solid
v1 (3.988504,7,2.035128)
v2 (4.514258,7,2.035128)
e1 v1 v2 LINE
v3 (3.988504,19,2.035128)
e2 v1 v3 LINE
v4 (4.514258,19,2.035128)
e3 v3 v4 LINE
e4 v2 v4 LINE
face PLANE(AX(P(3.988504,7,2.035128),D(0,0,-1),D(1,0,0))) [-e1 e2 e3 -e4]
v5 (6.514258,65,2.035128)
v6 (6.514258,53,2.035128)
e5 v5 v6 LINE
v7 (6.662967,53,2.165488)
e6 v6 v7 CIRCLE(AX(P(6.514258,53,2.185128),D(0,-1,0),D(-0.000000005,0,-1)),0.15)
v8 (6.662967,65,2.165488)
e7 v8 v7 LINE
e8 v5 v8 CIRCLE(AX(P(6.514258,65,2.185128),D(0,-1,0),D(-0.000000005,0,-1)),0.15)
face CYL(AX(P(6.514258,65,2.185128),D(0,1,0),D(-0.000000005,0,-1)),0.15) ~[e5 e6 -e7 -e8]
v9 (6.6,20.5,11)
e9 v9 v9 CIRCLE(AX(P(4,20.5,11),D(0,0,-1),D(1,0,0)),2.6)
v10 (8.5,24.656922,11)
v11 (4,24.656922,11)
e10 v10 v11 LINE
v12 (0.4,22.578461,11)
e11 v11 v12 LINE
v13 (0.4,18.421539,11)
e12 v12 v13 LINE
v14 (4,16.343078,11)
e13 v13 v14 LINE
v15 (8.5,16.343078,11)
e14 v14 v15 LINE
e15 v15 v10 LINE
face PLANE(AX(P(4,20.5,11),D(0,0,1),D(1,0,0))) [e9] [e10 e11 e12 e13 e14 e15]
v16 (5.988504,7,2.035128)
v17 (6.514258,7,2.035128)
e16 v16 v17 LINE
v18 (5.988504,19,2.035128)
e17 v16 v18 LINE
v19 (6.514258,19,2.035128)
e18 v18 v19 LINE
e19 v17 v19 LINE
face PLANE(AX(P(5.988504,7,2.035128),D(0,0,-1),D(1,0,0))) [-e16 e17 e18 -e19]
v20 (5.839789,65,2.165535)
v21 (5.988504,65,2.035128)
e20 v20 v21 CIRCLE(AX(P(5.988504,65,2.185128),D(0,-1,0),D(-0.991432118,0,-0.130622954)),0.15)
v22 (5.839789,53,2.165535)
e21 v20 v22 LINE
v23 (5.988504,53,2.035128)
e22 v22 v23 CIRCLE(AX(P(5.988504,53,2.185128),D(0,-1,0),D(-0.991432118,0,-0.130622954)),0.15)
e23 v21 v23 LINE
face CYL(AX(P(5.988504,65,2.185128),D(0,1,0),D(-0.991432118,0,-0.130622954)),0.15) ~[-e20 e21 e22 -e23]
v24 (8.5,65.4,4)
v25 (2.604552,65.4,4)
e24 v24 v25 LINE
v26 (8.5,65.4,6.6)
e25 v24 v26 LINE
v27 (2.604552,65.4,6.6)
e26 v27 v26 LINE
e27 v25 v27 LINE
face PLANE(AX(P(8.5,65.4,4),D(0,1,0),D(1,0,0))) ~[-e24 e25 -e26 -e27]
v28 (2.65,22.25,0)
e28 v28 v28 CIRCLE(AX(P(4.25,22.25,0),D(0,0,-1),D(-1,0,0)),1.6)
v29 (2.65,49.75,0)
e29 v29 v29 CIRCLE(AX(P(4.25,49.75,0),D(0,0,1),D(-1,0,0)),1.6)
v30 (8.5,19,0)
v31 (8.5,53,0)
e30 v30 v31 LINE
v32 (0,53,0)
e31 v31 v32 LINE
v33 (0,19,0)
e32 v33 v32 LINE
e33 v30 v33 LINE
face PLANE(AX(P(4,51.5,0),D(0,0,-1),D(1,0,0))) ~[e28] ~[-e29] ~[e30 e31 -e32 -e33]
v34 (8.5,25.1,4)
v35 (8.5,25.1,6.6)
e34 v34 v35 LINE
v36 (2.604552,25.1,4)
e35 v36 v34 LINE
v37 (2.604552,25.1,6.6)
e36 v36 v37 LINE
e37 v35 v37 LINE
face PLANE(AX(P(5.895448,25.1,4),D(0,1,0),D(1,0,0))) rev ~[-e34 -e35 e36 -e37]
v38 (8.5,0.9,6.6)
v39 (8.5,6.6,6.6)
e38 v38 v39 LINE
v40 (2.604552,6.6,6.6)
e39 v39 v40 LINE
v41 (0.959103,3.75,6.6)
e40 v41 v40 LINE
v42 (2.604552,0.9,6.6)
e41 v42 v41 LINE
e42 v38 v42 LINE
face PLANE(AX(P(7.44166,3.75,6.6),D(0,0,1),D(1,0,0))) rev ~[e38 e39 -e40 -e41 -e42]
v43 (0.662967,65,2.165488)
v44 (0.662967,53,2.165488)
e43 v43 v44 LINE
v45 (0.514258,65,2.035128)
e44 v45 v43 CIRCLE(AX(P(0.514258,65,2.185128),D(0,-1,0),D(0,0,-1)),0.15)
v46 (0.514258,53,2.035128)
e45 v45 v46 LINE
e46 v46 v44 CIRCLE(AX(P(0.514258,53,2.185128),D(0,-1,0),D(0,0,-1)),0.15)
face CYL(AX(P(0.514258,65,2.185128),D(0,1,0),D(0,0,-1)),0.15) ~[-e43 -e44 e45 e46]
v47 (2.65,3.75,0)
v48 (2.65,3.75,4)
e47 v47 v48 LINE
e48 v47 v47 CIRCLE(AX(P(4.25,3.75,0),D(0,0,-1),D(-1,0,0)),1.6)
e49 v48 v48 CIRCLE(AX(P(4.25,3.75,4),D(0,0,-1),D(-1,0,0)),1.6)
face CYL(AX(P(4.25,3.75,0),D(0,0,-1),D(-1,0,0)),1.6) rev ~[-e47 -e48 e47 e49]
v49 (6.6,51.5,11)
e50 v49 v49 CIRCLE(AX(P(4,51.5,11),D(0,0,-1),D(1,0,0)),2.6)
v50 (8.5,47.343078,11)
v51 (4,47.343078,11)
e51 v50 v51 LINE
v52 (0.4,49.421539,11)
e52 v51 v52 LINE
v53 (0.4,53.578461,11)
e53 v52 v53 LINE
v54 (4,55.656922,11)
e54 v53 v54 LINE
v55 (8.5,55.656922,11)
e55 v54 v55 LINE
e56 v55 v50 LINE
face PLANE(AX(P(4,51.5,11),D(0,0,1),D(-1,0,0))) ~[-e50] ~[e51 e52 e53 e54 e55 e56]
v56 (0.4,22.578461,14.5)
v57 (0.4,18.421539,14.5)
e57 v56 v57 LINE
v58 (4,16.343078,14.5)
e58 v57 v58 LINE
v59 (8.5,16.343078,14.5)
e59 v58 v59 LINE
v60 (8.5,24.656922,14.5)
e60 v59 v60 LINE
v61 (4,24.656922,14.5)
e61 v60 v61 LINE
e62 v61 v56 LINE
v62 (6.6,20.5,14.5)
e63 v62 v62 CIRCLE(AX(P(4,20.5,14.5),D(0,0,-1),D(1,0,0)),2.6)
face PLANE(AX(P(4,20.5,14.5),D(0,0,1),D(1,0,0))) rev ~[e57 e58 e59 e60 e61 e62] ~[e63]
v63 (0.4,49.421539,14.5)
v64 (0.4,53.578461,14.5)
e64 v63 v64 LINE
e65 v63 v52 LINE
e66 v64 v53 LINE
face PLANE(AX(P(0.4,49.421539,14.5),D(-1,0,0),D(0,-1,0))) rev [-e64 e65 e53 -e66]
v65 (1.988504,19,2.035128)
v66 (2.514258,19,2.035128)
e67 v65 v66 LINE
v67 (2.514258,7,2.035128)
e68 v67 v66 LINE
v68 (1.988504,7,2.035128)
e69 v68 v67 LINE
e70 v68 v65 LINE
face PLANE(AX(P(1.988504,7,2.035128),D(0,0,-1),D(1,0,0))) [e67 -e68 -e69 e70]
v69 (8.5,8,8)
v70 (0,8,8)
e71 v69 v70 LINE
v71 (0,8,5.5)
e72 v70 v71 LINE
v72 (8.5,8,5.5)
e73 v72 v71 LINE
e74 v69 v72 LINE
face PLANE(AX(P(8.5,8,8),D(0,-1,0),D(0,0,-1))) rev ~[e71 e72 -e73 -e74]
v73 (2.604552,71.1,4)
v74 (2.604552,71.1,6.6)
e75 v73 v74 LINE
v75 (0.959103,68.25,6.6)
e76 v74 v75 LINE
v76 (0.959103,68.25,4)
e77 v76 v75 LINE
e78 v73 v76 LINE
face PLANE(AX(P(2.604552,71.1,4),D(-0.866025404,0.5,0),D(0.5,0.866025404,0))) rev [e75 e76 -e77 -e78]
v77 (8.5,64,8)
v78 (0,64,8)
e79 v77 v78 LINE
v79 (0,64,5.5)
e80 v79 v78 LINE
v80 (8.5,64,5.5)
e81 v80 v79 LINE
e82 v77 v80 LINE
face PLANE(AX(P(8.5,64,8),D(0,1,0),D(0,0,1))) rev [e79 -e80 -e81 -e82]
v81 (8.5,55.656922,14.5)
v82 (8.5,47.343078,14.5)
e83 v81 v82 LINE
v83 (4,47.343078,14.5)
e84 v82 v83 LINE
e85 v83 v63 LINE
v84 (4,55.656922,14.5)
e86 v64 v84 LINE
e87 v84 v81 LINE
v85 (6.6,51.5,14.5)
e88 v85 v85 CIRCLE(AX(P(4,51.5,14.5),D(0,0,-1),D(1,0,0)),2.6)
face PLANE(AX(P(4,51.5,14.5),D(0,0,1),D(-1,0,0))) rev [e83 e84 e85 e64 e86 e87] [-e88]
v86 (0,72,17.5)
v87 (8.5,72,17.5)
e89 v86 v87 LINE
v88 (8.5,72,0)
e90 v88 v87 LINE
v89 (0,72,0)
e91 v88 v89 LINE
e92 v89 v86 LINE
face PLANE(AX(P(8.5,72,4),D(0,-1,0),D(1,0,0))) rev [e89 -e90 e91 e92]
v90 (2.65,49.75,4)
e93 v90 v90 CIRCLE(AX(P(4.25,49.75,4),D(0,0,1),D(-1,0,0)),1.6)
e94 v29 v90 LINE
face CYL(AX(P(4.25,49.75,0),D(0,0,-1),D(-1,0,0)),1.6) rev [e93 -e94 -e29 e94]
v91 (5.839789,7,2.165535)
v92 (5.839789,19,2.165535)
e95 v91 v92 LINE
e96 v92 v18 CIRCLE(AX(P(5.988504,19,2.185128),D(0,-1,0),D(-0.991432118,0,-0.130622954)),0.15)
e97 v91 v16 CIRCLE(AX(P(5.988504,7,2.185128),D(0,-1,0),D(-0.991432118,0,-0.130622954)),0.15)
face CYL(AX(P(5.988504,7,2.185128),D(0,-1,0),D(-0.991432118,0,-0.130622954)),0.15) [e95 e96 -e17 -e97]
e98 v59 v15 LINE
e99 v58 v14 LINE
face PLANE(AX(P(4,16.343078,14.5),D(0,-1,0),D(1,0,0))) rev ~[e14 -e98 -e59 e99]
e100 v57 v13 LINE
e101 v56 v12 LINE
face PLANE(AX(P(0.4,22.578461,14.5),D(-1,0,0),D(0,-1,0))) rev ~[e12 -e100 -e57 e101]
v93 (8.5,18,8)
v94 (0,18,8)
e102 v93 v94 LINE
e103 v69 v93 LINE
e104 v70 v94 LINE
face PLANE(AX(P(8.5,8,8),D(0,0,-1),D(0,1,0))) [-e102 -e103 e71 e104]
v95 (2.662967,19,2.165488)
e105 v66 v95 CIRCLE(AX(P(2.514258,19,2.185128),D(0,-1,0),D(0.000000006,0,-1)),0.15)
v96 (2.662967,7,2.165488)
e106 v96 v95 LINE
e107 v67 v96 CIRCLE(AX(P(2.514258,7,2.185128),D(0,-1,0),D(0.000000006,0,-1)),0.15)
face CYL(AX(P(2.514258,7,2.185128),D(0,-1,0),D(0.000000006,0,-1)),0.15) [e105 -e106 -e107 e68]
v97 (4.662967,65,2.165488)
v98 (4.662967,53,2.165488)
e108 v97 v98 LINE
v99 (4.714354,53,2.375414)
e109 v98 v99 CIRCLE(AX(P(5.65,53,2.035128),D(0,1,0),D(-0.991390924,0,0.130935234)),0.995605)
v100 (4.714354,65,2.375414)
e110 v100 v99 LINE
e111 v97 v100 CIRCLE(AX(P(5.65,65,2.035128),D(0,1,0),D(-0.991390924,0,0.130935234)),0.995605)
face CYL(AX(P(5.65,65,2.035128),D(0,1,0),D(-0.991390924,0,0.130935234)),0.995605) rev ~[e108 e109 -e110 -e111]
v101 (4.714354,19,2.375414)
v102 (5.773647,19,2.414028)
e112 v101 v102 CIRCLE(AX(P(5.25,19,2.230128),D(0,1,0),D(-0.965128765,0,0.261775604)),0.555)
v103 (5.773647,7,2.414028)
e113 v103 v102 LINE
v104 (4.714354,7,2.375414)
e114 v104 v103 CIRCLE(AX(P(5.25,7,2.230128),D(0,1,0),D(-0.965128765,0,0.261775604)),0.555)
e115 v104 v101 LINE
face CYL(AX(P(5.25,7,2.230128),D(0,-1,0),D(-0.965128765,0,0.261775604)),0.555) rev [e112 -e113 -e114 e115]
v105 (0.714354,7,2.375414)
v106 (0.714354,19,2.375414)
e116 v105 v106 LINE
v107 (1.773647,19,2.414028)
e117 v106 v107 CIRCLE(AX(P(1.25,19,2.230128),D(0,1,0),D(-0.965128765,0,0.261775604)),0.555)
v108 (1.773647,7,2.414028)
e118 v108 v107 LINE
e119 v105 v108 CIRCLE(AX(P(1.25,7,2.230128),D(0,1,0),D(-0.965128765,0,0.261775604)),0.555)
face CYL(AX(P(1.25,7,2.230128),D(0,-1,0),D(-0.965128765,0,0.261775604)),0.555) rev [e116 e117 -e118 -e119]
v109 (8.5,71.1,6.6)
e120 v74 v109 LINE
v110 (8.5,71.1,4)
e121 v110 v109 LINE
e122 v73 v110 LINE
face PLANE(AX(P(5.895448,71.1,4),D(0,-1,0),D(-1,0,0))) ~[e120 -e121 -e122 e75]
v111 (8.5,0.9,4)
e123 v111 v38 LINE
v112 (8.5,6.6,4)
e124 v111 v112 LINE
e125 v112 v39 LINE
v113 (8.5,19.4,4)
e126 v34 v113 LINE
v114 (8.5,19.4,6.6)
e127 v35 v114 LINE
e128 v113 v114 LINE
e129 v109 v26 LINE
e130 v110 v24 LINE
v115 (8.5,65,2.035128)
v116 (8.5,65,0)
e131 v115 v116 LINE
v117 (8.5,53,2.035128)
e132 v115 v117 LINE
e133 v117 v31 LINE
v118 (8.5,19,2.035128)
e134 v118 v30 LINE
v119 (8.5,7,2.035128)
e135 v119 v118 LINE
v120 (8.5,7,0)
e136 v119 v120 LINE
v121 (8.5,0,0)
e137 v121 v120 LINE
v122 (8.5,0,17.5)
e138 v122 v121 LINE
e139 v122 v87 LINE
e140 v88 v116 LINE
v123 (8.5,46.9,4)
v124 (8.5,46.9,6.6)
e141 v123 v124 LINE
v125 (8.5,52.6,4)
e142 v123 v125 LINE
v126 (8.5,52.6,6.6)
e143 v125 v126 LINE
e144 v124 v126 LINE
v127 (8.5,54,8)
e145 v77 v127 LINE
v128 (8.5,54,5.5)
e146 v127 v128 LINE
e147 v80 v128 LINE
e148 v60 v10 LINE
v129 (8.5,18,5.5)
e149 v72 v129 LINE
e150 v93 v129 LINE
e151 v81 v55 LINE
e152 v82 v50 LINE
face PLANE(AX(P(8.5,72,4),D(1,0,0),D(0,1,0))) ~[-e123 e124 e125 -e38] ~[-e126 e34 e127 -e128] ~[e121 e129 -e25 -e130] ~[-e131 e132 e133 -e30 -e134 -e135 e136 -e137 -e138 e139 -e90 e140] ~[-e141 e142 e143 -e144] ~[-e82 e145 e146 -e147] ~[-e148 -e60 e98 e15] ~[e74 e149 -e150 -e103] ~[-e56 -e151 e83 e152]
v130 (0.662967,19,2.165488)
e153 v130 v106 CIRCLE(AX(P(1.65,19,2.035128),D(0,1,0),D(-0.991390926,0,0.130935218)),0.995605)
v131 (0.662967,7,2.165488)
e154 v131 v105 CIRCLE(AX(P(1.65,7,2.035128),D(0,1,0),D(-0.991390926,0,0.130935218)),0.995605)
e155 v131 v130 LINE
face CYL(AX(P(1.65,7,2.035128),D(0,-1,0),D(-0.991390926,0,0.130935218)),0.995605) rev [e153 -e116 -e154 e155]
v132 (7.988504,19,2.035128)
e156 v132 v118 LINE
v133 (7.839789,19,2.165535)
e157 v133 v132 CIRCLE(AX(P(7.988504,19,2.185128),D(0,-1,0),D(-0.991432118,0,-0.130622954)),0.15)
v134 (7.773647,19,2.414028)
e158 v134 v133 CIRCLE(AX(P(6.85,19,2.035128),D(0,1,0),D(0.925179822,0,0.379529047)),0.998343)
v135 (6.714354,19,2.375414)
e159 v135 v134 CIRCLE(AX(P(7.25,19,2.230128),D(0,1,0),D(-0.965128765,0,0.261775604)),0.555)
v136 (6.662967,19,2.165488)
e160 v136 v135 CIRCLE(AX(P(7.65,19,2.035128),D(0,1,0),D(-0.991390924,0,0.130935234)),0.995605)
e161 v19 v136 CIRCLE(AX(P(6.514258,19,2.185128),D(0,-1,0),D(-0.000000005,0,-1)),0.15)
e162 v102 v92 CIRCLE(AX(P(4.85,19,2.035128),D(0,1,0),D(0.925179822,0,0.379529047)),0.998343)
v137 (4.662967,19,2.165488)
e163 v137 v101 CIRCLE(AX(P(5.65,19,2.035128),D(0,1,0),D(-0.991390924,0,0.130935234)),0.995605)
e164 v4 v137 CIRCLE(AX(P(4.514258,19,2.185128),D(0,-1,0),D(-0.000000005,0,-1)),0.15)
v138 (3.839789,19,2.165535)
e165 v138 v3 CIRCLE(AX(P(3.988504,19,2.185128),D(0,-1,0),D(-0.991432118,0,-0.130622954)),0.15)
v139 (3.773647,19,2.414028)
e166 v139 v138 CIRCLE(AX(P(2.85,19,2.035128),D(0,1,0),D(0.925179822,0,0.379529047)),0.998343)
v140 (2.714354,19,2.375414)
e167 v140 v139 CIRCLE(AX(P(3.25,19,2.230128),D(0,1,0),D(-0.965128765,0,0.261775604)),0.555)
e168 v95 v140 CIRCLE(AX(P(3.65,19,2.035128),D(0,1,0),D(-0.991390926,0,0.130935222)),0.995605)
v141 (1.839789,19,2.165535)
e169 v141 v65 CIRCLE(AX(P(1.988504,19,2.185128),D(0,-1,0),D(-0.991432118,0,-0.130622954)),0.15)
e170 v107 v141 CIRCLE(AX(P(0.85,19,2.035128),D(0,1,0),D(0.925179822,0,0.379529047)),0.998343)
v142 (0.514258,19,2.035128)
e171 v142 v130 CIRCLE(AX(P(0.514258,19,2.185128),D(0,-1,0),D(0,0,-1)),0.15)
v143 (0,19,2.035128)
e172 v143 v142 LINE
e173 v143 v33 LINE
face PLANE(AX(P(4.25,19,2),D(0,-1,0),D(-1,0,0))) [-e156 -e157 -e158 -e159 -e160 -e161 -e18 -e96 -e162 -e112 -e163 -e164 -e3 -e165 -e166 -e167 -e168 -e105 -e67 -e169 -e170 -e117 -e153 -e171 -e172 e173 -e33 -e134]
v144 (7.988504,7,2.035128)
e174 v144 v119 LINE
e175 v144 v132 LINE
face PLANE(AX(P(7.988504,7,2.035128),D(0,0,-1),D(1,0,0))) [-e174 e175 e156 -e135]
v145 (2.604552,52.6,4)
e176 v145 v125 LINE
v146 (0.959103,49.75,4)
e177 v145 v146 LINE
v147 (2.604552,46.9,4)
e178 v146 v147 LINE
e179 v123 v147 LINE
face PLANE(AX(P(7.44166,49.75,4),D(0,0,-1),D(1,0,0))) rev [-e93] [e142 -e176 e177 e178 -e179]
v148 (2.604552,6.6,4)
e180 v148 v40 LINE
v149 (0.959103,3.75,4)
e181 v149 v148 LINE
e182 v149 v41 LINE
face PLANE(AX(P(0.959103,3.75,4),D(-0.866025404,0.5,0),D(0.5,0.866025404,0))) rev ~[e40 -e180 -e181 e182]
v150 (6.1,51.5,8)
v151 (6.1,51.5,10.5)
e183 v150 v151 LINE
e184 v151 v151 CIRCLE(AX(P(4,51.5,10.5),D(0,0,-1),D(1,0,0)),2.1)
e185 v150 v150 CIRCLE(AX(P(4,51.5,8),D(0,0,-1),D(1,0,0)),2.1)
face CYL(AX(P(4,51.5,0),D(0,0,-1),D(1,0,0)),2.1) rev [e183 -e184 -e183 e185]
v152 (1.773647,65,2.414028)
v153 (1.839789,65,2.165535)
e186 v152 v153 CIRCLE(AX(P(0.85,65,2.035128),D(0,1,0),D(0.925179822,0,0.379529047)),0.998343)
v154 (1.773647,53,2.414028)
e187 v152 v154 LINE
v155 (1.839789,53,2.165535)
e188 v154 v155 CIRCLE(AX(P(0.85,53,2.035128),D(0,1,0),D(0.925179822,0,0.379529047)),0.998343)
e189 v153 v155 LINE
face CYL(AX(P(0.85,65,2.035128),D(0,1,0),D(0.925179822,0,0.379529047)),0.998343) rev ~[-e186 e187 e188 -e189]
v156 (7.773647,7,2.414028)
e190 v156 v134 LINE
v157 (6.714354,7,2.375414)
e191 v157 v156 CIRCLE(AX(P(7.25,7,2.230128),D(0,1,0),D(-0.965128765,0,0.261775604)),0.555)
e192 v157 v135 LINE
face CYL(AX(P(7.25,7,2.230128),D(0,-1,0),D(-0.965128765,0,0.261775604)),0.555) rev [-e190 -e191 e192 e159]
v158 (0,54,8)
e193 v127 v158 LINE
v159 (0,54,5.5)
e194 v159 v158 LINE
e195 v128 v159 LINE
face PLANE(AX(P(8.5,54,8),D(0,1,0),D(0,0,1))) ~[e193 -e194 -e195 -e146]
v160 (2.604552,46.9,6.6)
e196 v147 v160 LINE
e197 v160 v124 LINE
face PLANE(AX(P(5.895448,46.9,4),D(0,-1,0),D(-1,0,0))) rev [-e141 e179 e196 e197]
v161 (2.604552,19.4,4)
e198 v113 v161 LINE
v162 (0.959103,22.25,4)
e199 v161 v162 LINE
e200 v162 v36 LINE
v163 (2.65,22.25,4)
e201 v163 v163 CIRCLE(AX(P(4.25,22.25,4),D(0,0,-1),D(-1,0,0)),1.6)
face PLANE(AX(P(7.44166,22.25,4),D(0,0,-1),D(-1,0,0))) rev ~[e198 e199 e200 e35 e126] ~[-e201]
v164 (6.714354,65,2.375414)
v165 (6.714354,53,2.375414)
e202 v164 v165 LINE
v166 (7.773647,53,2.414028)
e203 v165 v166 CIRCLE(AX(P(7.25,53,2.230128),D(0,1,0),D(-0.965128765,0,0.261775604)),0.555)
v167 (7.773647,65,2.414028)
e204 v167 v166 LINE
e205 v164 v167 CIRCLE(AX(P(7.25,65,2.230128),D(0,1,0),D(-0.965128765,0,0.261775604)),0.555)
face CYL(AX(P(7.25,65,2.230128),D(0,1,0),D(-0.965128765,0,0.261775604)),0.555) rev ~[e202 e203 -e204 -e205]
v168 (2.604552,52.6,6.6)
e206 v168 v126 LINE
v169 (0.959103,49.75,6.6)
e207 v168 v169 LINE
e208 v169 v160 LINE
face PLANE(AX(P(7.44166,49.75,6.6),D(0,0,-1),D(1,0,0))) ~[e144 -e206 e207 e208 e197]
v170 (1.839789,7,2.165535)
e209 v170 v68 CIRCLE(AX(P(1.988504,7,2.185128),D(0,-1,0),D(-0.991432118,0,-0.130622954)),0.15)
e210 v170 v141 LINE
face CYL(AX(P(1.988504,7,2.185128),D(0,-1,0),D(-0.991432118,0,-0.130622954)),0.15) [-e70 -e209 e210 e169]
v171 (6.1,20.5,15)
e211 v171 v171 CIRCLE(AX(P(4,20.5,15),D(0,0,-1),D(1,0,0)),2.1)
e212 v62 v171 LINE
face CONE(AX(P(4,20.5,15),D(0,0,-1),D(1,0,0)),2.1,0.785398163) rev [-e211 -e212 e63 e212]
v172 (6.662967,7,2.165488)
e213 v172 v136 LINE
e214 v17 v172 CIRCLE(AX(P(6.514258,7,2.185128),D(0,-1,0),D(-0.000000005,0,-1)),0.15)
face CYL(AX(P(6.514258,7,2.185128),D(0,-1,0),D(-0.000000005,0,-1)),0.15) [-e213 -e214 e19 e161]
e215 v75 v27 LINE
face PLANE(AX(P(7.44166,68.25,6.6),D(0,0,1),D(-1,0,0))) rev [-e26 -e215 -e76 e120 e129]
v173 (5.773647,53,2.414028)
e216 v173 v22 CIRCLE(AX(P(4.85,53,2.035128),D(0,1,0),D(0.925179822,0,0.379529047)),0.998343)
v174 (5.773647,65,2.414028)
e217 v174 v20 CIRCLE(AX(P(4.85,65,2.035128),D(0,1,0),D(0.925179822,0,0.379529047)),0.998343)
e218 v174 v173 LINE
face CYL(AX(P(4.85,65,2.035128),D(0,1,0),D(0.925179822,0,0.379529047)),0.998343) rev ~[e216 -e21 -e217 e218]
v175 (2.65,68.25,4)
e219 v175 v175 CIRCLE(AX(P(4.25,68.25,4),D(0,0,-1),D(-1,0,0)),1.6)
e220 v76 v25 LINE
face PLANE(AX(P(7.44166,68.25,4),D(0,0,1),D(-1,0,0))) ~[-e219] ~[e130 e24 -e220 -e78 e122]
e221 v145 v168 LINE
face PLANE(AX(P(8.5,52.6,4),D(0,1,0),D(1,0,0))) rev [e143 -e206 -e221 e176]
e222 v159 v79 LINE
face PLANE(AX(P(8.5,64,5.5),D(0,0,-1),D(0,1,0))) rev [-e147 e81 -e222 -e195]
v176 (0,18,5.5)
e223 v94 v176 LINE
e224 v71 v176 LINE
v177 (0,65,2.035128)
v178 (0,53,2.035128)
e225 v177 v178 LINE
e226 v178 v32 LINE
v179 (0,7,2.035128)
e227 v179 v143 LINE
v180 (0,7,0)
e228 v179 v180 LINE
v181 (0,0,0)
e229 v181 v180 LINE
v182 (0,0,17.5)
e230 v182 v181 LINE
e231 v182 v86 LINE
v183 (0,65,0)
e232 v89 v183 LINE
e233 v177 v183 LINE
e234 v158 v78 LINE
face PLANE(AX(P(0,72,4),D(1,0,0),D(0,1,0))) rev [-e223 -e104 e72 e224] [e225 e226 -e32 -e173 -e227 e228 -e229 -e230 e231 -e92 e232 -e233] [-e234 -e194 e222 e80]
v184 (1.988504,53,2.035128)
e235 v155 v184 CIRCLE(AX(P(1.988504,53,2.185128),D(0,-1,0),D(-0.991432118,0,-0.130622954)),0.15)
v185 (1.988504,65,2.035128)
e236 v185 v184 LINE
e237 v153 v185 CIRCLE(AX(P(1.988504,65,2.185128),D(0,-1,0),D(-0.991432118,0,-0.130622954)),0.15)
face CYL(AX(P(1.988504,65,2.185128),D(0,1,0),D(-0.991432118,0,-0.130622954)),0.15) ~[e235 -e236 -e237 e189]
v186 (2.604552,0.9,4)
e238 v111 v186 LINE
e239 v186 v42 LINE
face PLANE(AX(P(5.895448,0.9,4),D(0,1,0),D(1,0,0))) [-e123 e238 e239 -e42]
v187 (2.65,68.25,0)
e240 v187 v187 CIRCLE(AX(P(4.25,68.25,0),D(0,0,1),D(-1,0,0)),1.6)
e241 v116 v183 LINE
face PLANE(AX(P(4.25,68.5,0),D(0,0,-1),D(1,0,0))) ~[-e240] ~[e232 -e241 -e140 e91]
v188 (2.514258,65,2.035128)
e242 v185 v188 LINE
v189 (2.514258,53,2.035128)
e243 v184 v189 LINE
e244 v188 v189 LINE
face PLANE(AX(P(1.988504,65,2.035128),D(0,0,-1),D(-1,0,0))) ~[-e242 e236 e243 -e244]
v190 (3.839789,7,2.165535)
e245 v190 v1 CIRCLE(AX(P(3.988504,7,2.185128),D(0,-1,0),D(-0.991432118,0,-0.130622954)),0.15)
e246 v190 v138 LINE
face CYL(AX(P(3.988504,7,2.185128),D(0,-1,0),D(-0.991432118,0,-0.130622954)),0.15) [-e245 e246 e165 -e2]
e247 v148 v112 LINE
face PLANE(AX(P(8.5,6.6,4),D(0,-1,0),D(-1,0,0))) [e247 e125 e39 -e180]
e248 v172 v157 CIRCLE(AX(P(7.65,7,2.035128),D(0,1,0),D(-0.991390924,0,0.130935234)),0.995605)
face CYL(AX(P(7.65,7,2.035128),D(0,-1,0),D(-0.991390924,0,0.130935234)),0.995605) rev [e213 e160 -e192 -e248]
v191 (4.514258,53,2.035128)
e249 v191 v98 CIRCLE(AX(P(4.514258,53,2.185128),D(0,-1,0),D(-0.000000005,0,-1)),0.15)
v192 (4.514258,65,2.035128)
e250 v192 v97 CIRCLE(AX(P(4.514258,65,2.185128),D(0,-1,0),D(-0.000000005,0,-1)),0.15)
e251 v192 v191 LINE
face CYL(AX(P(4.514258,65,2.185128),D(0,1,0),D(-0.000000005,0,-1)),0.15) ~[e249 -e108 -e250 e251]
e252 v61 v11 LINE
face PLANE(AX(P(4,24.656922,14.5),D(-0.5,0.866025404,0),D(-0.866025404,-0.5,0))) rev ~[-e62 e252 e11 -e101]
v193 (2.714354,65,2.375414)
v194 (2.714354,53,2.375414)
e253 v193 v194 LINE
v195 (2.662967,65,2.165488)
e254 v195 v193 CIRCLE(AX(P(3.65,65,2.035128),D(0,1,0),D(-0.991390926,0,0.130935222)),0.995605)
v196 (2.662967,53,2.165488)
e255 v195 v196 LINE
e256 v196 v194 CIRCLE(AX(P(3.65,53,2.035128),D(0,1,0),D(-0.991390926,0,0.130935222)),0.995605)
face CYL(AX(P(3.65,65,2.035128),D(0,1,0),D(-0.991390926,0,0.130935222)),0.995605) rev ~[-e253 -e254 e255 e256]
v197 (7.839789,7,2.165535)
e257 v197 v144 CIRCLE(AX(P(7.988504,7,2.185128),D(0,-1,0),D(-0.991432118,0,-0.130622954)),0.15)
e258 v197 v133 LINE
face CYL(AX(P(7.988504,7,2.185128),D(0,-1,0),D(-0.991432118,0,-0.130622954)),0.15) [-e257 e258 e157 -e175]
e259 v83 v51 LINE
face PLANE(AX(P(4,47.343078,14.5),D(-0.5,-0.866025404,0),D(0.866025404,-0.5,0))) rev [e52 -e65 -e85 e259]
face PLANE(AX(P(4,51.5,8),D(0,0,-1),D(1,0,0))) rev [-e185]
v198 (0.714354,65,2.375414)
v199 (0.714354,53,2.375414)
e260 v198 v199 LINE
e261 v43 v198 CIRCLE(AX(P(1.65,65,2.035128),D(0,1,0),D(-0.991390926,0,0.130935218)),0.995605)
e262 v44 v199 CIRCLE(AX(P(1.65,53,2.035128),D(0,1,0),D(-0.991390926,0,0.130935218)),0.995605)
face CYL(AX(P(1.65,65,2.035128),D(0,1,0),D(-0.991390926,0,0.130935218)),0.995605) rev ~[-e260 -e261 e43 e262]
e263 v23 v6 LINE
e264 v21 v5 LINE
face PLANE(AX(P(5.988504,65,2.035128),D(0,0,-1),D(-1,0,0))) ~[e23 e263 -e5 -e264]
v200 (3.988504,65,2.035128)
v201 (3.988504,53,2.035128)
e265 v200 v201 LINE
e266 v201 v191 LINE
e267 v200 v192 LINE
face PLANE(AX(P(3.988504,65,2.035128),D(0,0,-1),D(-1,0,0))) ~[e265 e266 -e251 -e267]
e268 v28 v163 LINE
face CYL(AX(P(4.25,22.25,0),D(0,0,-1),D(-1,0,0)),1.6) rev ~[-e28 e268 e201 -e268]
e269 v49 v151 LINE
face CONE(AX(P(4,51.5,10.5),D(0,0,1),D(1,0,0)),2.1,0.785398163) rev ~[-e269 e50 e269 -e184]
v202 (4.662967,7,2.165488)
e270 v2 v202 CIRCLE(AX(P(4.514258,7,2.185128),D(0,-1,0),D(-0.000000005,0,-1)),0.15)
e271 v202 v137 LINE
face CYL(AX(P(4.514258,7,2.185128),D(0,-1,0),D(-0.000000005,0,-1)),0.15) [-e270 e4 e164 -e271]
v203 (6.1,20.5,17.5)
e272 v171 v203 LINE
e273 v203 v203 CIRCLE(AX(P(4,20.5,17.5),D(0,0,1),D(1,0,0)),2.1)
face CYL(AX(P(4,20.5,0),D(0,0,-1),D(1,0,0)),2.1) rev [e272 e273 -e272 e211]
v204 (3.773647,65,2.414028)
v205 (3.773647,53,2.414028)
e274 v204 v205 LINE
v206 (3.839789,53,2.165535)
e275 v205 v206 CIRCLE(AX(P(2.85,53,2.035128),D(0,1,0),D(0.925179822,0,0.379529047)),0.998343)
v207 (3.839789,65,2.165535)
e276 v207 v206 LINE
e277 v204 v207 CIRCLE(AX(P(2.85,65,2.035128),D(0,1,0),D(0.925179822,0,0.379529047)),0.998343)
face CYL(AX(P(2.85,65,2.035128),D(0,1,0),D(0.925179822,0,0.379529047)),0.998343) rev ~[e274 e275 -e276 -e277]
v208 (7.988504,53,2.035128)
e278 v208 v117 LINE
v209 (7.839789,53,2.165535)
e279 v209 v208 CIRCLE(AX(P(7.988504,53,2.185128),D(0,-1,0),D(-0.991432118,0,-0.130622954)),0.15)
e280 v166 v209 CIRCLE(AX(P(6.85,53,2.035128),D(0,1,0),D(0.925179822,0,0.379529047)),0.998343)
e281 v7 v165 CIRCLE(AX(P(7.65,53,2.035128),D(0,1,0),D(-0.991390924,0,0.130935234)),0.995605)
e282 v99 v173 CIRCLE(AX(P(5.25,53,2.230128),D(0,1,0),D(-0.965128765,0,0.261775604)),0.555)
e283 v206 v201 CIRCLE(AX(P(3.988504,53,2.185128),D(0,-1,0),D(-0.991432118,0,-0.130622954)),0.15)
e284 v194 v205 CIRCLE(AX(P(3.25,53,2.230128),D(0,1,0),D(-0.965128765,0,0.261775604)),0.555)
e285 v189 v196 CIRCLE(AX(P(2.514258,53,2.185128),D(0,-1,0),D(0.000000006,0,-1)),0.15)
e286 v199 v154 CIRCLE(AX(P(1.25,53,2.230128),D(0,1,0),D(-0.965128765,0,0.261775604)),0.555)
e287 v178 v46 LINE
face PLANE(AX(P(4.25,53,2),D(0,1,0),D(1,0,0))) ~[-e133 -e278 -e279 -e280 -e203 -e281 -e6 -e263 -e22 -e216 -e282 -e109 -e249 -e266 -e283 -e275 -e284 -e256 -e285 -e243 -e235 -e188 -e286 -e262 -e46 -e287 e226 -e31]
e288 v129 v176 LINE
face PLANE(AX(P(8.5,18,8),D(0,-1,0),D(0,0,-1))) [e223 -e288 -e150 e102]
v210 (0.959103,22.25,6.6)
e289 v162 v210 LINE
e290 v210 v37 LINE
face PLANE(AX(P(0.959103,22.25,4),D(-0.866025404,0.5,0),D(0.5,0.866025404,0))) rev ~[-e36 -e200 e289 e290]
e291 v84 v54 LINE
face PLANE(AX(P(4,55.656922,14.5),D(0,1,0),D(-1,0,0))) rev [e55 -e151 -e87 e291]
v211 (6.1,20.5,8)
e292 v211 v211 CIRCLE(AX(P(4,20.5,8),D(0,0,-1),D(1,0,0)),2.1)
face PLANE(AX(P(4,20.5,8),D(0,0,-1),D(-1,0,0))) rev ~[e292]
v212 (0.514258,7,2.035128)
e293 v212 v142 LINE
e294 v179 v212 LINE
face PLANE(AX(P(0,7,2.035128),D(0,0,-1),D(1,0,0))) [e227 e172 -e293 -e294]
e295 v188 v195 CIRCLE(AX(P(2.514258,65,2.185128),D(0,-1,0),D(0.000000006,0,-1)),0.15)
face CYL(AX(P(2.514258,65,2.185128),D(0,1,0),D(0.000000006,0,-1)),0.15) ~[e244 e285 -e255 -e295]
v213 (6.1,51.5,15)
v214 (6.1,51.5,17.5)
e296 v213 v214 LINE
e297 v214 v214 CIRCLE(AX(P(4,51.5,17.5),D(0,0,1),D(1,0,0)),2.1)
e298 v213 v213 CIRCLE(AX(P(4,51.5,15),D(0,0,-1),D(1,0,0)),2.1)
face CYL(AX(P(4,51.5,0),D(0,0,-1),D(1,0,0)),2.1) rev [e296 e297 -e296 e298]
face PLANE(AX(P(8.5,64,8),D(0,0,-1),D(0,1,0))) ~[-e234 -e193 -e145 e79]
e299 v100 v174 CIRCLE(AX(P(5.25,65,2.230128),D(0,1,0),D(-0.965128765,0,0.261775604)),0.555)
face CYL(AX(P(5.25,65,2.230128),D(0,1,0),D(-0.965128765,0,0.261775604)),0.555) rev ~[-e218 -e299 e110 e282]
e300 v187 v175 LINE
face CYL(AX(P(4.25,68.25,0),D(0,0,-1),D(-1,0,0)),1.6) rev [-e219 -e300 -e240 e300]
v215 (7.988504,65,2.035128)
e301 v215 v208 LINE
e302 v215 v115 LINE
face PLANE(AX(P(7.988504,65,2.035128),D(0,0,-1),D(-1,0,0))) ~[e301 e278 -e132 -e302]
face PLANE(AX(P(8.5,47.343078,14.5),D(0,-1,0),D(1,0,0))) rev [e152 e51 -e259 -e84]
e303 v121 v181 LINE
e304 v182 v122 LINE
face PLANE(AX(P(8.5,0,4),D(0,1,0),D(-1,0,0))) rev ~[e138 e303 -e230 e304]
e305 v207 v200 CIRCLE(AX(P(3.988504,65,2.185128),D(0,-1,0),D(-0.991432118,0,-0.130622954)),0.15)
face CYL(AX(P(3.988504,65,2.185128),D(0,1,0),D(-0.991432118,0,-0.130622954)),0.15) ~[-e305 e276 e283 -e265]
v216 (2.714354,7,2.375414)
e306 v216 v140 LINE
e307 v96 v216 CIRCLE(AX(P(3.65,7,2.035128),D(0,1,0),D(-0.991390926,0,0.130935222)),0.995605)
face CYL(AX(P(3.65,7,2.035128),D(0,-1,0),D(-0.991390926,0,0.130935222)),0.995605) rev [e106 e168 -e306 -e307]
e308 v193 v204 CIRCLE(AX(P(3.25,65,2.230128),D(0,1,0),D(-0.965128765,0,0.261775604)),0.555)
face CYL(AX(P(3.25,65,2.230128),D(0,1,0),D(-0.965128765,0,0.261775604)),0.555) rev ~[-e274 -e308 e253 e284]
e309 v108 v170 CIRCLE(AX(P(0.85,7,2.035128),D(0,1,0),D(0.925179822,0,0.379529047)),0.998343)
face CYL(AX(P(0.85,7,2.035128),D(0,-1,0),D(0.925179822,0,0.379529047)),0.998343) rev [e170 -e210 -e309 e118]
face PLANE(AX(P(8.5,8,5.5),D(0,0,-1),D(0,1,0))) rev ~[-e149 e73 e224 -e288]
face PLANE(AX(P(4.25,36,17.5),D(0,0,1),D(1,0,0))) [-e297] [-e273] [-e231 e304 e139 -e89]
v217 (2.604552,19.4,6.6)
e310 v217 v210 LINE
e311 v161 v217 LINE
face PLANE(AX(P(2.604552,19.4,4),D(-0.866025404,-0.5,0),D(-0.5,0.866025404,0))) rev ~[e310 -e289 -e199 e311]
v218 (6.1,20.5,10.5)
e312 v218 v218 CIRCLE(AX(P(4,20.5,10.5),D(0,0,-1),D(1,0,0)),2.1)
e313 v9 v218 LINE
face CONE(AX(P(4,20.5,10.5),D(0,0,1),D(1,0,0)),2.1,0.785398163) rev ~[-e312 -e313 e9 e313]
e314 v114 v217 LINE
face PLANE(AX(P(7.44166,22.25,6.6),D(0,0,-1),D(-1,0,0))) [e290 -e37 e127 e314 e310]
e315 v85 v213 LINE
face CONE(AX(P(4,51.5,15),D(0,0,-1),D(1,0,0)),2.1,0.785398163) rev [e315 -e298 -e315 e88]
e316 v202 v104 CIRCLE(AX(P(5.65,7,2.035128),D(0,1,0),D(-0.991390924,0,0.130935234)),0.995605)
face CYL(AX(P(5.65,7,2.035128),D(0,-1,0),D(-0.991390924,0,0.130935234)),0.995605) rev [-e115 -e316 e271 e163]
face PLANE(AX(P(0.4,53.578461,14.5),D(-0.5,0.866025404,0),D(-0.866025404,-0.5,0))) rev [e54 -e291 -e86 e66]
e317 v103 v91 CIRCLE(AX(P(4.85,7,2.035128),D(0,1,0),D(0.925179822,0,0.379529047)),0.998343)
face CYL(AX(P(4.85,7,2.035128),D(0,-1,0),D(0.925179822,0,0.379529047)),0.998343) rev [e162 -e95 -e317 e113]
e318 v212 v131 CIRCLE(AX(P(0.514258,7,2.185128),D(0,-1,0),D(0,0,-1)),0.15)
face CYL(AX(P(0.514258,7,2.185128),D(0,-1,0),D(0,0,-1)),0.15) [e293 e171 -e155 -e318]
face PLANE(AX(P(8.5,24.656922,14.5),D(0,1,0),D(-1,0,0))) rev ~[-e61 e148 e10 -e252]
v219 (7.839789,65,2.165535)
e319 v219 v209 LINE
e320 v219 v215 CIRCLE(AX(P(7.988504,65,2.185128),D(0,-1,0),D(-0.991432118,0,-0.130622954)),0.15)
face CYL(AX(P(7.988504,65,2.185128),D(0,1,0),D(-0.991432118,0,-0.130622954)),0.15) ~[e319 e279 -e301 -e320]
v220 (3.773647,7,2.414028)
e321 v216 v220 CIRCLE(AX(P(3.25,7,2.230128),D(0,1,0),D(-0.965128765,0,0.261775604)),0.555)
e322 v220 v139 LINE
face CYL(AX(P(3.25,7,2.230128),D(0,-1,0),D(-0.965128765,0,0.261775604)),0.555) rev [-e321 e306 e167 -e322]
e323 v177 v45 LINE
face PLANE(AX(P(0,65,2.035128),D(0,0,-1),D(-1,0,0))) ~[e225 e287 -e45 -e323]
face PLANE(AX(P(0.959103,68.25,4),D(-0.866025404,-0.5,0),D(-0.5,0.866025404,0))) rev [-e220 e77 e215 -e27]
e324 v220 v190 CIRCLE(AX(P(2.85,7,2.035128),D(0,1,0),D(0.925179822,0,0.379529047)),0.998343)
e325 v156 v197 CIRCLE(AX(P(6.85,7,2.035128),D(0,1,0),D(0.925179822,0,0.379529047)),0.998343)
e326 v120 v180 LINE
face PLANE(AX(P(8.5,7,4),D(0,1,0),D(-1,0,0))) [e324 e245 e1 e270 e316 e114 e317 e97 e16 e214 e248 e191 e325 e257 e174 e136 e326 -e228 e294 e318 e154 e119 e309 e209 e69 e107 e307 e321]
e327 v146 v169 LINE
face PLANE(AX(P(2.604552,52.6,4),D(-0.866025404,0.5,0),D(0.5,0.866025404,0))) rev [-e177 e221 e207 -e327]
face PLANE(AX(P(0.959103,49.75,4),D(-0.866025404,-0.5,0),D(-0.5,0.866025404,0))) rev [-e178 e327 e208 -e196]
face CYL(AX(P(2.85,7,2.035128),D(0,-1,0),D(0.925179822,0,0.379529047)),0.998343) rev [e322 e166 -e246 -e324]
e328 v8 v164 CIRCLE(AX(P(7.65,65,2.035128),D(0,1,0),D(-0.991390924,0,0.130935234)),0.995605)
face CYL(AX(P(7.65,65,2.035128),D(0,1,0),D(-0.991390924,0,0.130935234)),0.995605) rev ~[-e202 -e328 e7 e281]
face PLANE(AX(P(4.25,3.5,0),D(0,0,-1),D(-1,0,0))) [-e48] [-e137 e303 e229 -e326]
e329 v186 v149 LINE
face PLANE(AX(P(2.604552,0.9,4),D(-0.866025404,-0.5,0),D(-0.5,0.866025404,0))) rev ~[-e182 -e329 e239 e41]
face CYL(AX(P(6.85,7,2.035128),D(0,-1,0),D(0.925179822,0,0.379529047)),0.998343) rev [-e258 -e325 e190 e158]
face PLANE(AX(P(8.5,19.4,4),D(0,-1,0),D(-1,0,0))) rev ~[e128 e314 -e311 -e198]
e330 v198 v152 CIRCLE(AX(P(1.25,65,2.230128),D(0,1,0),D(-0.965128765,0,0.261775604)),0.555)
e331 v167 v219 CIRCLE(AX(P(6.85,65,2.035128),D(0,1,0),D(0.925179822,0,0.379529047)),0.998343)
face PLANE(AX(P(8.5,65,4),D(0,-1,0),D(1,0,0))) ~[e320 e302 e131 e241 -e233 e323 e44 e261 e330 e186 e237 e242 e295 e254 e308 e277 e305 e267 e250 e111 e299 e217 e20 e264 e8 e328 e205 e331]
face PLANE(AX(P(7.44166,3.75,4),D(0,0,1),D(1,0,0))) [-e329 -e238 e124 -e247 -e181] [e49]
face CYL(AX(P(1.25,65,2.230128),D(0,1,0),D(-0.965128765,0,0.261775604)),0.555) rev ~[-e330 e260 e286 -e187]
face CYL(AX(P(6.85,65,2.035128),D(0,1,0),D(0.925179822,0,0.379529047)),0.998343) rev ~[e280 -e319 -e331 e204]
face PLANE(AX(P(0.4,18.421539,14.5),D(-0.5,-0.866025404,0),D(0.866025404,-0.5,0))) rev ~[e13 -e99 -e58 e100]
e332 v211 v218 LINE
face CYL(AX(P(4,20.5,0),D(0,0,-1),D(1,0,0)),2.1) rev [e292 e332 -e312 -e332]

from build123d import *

# Parameters (mm, degrees)
ESQUISSE1_W             = 8.5
ESQUISSE1_H             = 72
ESQUISSE1_R             = 2.1
BOSS_EXTRU_1_DEPTH      = 17.5
ENL_V_START             = -3
ENL_V_MAT_EXTRU_4_DEPTH = 3.5
ESQUISSE7_R             = 2.1
BOSS_EXTRU_3_DEPTH      = 8
ESQUISSE3_W             = 8.5
ESQUISSE3_H             = 4
ENL_V_MAT_EXTRU_3_DEPTH = 19
BOSS_EXTRU_2_START      = -7
BOSS_EXTRU_2_DEPTH      = 12
ESQUISSE8_W             = 8.5
ESQUISSE8_H             = 7
BOSS_EXTRU_4_DEPTH      = 4
ESQUISSE9_R             = 1.6
ENL_V_MAT_EXTRU_5_DEPTH = 5
ENL_V_START_2           = -4
ESQUISSE10_R            = 1.6
ENL_V_MAT_EXTRU_6_DEPTH = 2.6
ESQUISSE11_R            = 1.6
ENL_V_MAT_EXTRU_7_DEPTH = 1.6
ESQUISSE14_W            = 2.5
ESQUISSE14_H            = 10
ENL_V_MAT_EXTRU_9_DEPTH = 17.6
CHANFREIN1_SIZE         = 0.5


with BuildPart() as part:
    # Esquisse1 → Boss.-Extru.1 (new body)
    with BuildSketch(Plane.XY):
        with Locations((4.25, 36)):
            Rectangle(ESQUISSE1_W, ESQUISSE1_H)
        with Locations((4, 20.5)):
            Circle(ESQUISSE1_R, mode=Mode.SUBTRACT)
        with Locations((4, 51.5)):
            Circle(ESQUISSE1_R, mode=Mode.SUBTRACT)
    extrude(amount=BOSS_EXTRU_1_DEPTH)

    # Esquisse6 → Enlèv. mat.-Extru.4 (cut)
    with BuildSketch(Plane.XY.offset(17.5).offset(ENL_V_START)):
        Polygon((7.6, 22.578460969), (4, 24.656921938), (0.4, 22.578460969), (0.4, 18.421539031), (4, 16.343078062), (7.6, 18.421539031), align=None)
        Polygon((8.5, 24.656921938), (4, 24.656921938), (7.6, 22.578460969), (7.6, 18.421539031), (4, 16.343078062), (8.5, 16.343078062), align=None)
    enl_v_mat_extru_4 = extrude(amount=-ENL_V_MAT_EXTRU_4_DEPTH, mode=Mode.SUBTRACT)

    # Esquisse7 → Boss.-Extru.3 (add)
    with BuildSketch(Plane(origin=(0, 0, 0), x_dir=(-1, 0, 0), z_dir=(0, 0, -1))):
        with Locations((-4, 20.5)):
            Circle(ESQUISSE7_R)
    boss_extru_3 = extrude(amount=-BOSS_EXTRU_3_DEPTH)

    # Esquisse3 → Enlèv. mat.-Extru.3 (cut)
    with BuildSketch(Plane(origin=(0, 0, 0), x_dir=(-1, 0, 0), z_dir=(0, -1, 0))):
        with Locations((-4.25, -2)):
            Rectangle(ESQUISSE3_W, ESQUISSE3_H)
    enl_v_mat_extru_3 = extrude(amount=-ENL_V_MAT_EXTRU_3_DEPTH, mode=Mode.SUBTRACT)

    # Esquisse5 → Boss.-Extru.2 (add)
    with BuildSketch(Plane.XZ.offset(BOSS_EXTRU_2_START)):
        with BuildLine():
            ThreePointArc((4.662966643, 2.165487935), (4.682946936, 2.27184931), (4.714353535, 2.375413685))
            ThreePointArc((4.714353535, 2.375413685), (5.229781903, 2.78475984), (5.773646598, 2.414028307))
            ThreePointArc((5.773646598, 2.414028307), (5.814751932, 2.291920009), (5.839789089, 2.165534781))
            ThreePointArc((5.839789089, 2.165534781), (5.889607538, 2.072347427), (5.988503907, 2.035128225))
            Line((5.988503907, 2.035128225), (6.514258005, 2.035128225))
            ThreePointArc((6.514258005, 2.035128225), (6.613136609, 2.072331852), (6.662966643, 2.165487935))
            ThreePointArc((6.662966643, 2.165487935), (6.682946936, 2.27184931), (6.714353535, 2.375413685))
            ThreePointArc((6.714353535, 2.375413685), (7.229781903, 2.78475984), (7.773646598, 2.414028307))
            ThreePointArc((7.773646598, 2.414028307), (7.814751932, 2.291920009), (7.839789089, 2.165534781))
            ThreePointArc((7.839789089, 2.165534781), (7.889607538, 2.072347427), (7.988503907, 2.035128225))
            Line((7.988503907, 2.035128225), (8.5, 2.035128225))
            Line((8.5, 2.035128225), (8.5, 4))
            Line((8.5, 4), (0, 4))
            Line((0, 4), (0, 2.035128225))
            Line((0, 2.035128225), (0.514258005, 2.035128225))
            ThreePointArc((0.514258005, 2.035128225), (0.61313661, 2.072331853), (0.662966644, 2.165487937))
            ThreePointArc((0.662966644, 2.165487937), (0.682946936, 2.271849312), (0.714353535, 2.375413685))
            ThreePointArc((0.714353535, 2.375413685), (1.229781903, 2.78475984), (1.773646598, 2.414028307))
            ThreePointArc((1.773646598, 2.414028307), (1.814751932, 2.291920009), (1.839789089, 2.165534781))
            ThreePointArc((1.839789089, 2.165534781), (1.889607538, 2.072347427), (1.988503907, 2.035128225))
            Line((1.988503907, 2.035128225), (2.514258006, 2.035128225))
            ThreePointArc((2.514258006, 2.035128225), (2.613136611, 2.072331854), (2.662966644, 2.16548794))
            ThreePointArc((2.662966644, 2.16548794), (2.682946936, 2.271849313), (2.714353535, 2.375413685))
            ThreePointArc((2.714353535, 2.375413685), (3.229781903, 2.78475984), (3.773646598, 2.414028307))
            ThreePointArc((3.773646598, 2.414028307), (3.814751932, 2.291920009), (3.839789089, 2.165534781))
            ThreePointArc((3.839789089, 2.165534781), (3.889607538, 2.072347427), (3.988503907, 2.035128225))
            Line((3.988503907, 2.035128225), (4.514258005, 2.035128225))
            ThreePointArc((4.514258005, 2.035128225), (4.613136609, 2.072331852), (4.662966643, 2.165487935))
        make_face()
    boss_extru_2 = extrude(amount=-BOSS_EXTRU_2_DEPTH)

    # Esquisse8 → Boss.-Extru.4 (add)
    with BuildSketch(Plane(origin=(0, 0, 4), x_dir=(-1, 0, 0), z_dir=(0, 0, -1))):
        with Locations((-4.25, 3.5)):
            Rectangle(ESQUISSE8_W, ESQUISSE8_H)
    boss_extru_4 = extrude(amount=BOSS_EXTRU_4_DEPTH)

    # Esquisse9 → Enlèv. mat.-Extru.5 (cut)
    with BuildSketch(Plane(origin=(0, 0, 0), x_dir=(-1, 0, 0), z_dir=(0, 0, -1))):
        with Locations((-4.25, 3.75)):
            Circle(ESQUISSE9_R)
        with Locations((-4.25, 22.25)):
            Circle(ESQUISSE9_R)
    enl_v_mat_extru_5 = extrude(amount=-ENL_V_MAT_EXTRU_5_DEPTH, mode=Mode.SUBTRACT)

    # Esquisse10 → Enlèv. mat.-Extru.6 (cut)
    # profile 1 of 4: a face of its own
    with BuildSketch(Plane(origin=(0, 0, 0), x_dir=(-1, 0, 0), z_dir=(0, 0, -1)).offset(ENL_V_START_2)):
        Polygon((-2.604551733, 25.1), (-5.895448267, 25.1), (-7.540896534, 22.25), (-5.895448267, 19.4), (-2.604551733, 19.4), (-0.959103466, 22.25), align=None)
        with Locations((-4.25, 22.25)):
            Circle(ESQUISSE10_R, mode=Mode.SUBTRACT)
    # profile 2 of 4: a face of its own
    with BuildSketch(Plane(origin=(0, 0, 0), x_dir=(-1, 0, 0), z_dir=(0, 0, -1)).offset(ENL_V_START_2)):
        Polygon((-2.604551733, 6.6), (-5.895448267, 6.6), (-7.540896534, 3.75), (-5.895448267, 0.9), (-2.604551733, 0.9), (-0.959103466, 3.75), align=None)
    # profile 3 of 4: a face of its own
    with BuildSketch(Plane(origin=(0, 0, 0), x_dir=(-1, 0, 0), z_dir=(0, 0, -1)).offset(ENL_V_START_2)):
        Polygon((-8.5, 6.6), (-5.895448267, 6.6), (-7.540896534, 3.75), (-5.895448267, 0.9), (-8.5, 0.9), align=None)
    # profile 4 of 4: a face of its own
    with BuildSketch(Plane(origin=(0, 0, 0), x_dir=(-1, 0, 0), z_dir=(0, 0, -1)).offset(ENL_V_START_2)):
        Polygon((-7.540896534, 22.25), (-5.895448267, 25.1), (-8.5, 25.1), (-8.5, 19.4), (-5.895448267, 19.4), align=None)
    enl_v_mat_extru_6 = extrude(amount=-ENL_V_MAT_EXTRU_6_DEPTH, mode=Mode.SUBTRACT)

    # Esquisse11 → Enlèv. mat.-Extru.7 (cut)
    with BuildSketch(Plane(origin=(0, 0, 5), x_dir=(-1, 0, 0), z_dir=(0, 0, -1))):
        with Locations((-4.25, 22.25)):
            Circle(ESQUISSE11_R)
    enl_v_mat_extru_7 = extrude(amount=-ENL_V_MAT_EXTRU_7_DEPTH, mode=Mode.SUBTRACT)

    # Esquisse14 → Enlèv. mat.-Extru.9 (cut)
    with BuildSketch(Plane(origin=(8.5, 0, 0), x_dir=(0, 0, -1), z_dir=(1, 0, 0))):
        with Locations((-6.75, 13)):
            Rectangle(ESQUISSE14_W, ESQUISSE14_H)
    enl_v_mat_extru_9 = extrude(amount=-ENL_V_MAT_EXTRU_9_DEPTH, mode=Mode.SUBTRACT)

    # Symétrie14: Enlèv. mat.-Extru.4, Boss.-Extru.3, Enlèv. mat.-Extru.3, Boss.-Extru.2, Boss.-Extru.4, Enlèv. mat.-Extru.5, Enlèv. mat.-Extru.6, Enlèv. mat.-Extru.7, Enlèv. mat.-Extru.9 across plane
    add(enl_v_mat_extru_4.mirror(Plane(origin=(0, 36, 0), x_dir=(0, 0, 1), z_dir=(0, -1, 0))), mode=Mode.SUBTRACT)
    add(boss_extru_3.mirror(Plane(origin=(0, 36, 0), x_dir=(0, 0, 1), z_dir=(0, -1, 0))))
    add(enl_v_mat_extru_3.mirror(Plane(origin=(0, 36, 0), x_dir=(0, 0, 1), z_dir=(0, -1, 0))), mode=Mode.SUBTRACT)
    add(boss_extru_2.mirror(Plane(origin=(0, 36, 0), x_dir=(0, 0, 1), z_dir=(0, -1, 0))))
    add(boss_extru_4.mirror(Plane(origin=(0, 36, 0), x_dir=(0, 0, 1), z_dir=(0, -1, 0))))
    add(enl_v_mat_extru_5.mirror(Plane(origin=(0, 36, 0), x_dir=(0, 0, 1), z_dir=(0, -1, 0))), mode=Mode.SUBTRACT)
    add(enl_v_mat_extru_6.mirror(Plane(origin=(0, 36, 0), x_dir=(0, 0, 1), z_dir=(0, -1, 0))), mode=Mode.SUBTRACT)
    add(enl_v_mat_extru_7.mirror(Plane(origin=(0, 36, 0), x_dir=(0, 0, 1), z_dir=(0, -1, 0))), mode=Mode.SUBTRACT)
    add(enl_v_mat_extru_9.mirror(Plane(origin=(0, 36, 0), x_dir=(0, 0, 1), z_dir=(0, -1, 0))), mode=Mode.SUBTRACT)

    # Chanfrein1
    chanfrein1_edges = [part.edges().sort_by_distance(p)[0] for p in [
        (1.9, 51.5, 14.5),
        (1.9, 51.5, 11),
        (1.9, 20.5, 11),
        (1.9, 20.5, 14.5),
    ]]
    chamfer(chanfrein1_edges, length=CHANFREIN1_SIZE)


solid = part.part
